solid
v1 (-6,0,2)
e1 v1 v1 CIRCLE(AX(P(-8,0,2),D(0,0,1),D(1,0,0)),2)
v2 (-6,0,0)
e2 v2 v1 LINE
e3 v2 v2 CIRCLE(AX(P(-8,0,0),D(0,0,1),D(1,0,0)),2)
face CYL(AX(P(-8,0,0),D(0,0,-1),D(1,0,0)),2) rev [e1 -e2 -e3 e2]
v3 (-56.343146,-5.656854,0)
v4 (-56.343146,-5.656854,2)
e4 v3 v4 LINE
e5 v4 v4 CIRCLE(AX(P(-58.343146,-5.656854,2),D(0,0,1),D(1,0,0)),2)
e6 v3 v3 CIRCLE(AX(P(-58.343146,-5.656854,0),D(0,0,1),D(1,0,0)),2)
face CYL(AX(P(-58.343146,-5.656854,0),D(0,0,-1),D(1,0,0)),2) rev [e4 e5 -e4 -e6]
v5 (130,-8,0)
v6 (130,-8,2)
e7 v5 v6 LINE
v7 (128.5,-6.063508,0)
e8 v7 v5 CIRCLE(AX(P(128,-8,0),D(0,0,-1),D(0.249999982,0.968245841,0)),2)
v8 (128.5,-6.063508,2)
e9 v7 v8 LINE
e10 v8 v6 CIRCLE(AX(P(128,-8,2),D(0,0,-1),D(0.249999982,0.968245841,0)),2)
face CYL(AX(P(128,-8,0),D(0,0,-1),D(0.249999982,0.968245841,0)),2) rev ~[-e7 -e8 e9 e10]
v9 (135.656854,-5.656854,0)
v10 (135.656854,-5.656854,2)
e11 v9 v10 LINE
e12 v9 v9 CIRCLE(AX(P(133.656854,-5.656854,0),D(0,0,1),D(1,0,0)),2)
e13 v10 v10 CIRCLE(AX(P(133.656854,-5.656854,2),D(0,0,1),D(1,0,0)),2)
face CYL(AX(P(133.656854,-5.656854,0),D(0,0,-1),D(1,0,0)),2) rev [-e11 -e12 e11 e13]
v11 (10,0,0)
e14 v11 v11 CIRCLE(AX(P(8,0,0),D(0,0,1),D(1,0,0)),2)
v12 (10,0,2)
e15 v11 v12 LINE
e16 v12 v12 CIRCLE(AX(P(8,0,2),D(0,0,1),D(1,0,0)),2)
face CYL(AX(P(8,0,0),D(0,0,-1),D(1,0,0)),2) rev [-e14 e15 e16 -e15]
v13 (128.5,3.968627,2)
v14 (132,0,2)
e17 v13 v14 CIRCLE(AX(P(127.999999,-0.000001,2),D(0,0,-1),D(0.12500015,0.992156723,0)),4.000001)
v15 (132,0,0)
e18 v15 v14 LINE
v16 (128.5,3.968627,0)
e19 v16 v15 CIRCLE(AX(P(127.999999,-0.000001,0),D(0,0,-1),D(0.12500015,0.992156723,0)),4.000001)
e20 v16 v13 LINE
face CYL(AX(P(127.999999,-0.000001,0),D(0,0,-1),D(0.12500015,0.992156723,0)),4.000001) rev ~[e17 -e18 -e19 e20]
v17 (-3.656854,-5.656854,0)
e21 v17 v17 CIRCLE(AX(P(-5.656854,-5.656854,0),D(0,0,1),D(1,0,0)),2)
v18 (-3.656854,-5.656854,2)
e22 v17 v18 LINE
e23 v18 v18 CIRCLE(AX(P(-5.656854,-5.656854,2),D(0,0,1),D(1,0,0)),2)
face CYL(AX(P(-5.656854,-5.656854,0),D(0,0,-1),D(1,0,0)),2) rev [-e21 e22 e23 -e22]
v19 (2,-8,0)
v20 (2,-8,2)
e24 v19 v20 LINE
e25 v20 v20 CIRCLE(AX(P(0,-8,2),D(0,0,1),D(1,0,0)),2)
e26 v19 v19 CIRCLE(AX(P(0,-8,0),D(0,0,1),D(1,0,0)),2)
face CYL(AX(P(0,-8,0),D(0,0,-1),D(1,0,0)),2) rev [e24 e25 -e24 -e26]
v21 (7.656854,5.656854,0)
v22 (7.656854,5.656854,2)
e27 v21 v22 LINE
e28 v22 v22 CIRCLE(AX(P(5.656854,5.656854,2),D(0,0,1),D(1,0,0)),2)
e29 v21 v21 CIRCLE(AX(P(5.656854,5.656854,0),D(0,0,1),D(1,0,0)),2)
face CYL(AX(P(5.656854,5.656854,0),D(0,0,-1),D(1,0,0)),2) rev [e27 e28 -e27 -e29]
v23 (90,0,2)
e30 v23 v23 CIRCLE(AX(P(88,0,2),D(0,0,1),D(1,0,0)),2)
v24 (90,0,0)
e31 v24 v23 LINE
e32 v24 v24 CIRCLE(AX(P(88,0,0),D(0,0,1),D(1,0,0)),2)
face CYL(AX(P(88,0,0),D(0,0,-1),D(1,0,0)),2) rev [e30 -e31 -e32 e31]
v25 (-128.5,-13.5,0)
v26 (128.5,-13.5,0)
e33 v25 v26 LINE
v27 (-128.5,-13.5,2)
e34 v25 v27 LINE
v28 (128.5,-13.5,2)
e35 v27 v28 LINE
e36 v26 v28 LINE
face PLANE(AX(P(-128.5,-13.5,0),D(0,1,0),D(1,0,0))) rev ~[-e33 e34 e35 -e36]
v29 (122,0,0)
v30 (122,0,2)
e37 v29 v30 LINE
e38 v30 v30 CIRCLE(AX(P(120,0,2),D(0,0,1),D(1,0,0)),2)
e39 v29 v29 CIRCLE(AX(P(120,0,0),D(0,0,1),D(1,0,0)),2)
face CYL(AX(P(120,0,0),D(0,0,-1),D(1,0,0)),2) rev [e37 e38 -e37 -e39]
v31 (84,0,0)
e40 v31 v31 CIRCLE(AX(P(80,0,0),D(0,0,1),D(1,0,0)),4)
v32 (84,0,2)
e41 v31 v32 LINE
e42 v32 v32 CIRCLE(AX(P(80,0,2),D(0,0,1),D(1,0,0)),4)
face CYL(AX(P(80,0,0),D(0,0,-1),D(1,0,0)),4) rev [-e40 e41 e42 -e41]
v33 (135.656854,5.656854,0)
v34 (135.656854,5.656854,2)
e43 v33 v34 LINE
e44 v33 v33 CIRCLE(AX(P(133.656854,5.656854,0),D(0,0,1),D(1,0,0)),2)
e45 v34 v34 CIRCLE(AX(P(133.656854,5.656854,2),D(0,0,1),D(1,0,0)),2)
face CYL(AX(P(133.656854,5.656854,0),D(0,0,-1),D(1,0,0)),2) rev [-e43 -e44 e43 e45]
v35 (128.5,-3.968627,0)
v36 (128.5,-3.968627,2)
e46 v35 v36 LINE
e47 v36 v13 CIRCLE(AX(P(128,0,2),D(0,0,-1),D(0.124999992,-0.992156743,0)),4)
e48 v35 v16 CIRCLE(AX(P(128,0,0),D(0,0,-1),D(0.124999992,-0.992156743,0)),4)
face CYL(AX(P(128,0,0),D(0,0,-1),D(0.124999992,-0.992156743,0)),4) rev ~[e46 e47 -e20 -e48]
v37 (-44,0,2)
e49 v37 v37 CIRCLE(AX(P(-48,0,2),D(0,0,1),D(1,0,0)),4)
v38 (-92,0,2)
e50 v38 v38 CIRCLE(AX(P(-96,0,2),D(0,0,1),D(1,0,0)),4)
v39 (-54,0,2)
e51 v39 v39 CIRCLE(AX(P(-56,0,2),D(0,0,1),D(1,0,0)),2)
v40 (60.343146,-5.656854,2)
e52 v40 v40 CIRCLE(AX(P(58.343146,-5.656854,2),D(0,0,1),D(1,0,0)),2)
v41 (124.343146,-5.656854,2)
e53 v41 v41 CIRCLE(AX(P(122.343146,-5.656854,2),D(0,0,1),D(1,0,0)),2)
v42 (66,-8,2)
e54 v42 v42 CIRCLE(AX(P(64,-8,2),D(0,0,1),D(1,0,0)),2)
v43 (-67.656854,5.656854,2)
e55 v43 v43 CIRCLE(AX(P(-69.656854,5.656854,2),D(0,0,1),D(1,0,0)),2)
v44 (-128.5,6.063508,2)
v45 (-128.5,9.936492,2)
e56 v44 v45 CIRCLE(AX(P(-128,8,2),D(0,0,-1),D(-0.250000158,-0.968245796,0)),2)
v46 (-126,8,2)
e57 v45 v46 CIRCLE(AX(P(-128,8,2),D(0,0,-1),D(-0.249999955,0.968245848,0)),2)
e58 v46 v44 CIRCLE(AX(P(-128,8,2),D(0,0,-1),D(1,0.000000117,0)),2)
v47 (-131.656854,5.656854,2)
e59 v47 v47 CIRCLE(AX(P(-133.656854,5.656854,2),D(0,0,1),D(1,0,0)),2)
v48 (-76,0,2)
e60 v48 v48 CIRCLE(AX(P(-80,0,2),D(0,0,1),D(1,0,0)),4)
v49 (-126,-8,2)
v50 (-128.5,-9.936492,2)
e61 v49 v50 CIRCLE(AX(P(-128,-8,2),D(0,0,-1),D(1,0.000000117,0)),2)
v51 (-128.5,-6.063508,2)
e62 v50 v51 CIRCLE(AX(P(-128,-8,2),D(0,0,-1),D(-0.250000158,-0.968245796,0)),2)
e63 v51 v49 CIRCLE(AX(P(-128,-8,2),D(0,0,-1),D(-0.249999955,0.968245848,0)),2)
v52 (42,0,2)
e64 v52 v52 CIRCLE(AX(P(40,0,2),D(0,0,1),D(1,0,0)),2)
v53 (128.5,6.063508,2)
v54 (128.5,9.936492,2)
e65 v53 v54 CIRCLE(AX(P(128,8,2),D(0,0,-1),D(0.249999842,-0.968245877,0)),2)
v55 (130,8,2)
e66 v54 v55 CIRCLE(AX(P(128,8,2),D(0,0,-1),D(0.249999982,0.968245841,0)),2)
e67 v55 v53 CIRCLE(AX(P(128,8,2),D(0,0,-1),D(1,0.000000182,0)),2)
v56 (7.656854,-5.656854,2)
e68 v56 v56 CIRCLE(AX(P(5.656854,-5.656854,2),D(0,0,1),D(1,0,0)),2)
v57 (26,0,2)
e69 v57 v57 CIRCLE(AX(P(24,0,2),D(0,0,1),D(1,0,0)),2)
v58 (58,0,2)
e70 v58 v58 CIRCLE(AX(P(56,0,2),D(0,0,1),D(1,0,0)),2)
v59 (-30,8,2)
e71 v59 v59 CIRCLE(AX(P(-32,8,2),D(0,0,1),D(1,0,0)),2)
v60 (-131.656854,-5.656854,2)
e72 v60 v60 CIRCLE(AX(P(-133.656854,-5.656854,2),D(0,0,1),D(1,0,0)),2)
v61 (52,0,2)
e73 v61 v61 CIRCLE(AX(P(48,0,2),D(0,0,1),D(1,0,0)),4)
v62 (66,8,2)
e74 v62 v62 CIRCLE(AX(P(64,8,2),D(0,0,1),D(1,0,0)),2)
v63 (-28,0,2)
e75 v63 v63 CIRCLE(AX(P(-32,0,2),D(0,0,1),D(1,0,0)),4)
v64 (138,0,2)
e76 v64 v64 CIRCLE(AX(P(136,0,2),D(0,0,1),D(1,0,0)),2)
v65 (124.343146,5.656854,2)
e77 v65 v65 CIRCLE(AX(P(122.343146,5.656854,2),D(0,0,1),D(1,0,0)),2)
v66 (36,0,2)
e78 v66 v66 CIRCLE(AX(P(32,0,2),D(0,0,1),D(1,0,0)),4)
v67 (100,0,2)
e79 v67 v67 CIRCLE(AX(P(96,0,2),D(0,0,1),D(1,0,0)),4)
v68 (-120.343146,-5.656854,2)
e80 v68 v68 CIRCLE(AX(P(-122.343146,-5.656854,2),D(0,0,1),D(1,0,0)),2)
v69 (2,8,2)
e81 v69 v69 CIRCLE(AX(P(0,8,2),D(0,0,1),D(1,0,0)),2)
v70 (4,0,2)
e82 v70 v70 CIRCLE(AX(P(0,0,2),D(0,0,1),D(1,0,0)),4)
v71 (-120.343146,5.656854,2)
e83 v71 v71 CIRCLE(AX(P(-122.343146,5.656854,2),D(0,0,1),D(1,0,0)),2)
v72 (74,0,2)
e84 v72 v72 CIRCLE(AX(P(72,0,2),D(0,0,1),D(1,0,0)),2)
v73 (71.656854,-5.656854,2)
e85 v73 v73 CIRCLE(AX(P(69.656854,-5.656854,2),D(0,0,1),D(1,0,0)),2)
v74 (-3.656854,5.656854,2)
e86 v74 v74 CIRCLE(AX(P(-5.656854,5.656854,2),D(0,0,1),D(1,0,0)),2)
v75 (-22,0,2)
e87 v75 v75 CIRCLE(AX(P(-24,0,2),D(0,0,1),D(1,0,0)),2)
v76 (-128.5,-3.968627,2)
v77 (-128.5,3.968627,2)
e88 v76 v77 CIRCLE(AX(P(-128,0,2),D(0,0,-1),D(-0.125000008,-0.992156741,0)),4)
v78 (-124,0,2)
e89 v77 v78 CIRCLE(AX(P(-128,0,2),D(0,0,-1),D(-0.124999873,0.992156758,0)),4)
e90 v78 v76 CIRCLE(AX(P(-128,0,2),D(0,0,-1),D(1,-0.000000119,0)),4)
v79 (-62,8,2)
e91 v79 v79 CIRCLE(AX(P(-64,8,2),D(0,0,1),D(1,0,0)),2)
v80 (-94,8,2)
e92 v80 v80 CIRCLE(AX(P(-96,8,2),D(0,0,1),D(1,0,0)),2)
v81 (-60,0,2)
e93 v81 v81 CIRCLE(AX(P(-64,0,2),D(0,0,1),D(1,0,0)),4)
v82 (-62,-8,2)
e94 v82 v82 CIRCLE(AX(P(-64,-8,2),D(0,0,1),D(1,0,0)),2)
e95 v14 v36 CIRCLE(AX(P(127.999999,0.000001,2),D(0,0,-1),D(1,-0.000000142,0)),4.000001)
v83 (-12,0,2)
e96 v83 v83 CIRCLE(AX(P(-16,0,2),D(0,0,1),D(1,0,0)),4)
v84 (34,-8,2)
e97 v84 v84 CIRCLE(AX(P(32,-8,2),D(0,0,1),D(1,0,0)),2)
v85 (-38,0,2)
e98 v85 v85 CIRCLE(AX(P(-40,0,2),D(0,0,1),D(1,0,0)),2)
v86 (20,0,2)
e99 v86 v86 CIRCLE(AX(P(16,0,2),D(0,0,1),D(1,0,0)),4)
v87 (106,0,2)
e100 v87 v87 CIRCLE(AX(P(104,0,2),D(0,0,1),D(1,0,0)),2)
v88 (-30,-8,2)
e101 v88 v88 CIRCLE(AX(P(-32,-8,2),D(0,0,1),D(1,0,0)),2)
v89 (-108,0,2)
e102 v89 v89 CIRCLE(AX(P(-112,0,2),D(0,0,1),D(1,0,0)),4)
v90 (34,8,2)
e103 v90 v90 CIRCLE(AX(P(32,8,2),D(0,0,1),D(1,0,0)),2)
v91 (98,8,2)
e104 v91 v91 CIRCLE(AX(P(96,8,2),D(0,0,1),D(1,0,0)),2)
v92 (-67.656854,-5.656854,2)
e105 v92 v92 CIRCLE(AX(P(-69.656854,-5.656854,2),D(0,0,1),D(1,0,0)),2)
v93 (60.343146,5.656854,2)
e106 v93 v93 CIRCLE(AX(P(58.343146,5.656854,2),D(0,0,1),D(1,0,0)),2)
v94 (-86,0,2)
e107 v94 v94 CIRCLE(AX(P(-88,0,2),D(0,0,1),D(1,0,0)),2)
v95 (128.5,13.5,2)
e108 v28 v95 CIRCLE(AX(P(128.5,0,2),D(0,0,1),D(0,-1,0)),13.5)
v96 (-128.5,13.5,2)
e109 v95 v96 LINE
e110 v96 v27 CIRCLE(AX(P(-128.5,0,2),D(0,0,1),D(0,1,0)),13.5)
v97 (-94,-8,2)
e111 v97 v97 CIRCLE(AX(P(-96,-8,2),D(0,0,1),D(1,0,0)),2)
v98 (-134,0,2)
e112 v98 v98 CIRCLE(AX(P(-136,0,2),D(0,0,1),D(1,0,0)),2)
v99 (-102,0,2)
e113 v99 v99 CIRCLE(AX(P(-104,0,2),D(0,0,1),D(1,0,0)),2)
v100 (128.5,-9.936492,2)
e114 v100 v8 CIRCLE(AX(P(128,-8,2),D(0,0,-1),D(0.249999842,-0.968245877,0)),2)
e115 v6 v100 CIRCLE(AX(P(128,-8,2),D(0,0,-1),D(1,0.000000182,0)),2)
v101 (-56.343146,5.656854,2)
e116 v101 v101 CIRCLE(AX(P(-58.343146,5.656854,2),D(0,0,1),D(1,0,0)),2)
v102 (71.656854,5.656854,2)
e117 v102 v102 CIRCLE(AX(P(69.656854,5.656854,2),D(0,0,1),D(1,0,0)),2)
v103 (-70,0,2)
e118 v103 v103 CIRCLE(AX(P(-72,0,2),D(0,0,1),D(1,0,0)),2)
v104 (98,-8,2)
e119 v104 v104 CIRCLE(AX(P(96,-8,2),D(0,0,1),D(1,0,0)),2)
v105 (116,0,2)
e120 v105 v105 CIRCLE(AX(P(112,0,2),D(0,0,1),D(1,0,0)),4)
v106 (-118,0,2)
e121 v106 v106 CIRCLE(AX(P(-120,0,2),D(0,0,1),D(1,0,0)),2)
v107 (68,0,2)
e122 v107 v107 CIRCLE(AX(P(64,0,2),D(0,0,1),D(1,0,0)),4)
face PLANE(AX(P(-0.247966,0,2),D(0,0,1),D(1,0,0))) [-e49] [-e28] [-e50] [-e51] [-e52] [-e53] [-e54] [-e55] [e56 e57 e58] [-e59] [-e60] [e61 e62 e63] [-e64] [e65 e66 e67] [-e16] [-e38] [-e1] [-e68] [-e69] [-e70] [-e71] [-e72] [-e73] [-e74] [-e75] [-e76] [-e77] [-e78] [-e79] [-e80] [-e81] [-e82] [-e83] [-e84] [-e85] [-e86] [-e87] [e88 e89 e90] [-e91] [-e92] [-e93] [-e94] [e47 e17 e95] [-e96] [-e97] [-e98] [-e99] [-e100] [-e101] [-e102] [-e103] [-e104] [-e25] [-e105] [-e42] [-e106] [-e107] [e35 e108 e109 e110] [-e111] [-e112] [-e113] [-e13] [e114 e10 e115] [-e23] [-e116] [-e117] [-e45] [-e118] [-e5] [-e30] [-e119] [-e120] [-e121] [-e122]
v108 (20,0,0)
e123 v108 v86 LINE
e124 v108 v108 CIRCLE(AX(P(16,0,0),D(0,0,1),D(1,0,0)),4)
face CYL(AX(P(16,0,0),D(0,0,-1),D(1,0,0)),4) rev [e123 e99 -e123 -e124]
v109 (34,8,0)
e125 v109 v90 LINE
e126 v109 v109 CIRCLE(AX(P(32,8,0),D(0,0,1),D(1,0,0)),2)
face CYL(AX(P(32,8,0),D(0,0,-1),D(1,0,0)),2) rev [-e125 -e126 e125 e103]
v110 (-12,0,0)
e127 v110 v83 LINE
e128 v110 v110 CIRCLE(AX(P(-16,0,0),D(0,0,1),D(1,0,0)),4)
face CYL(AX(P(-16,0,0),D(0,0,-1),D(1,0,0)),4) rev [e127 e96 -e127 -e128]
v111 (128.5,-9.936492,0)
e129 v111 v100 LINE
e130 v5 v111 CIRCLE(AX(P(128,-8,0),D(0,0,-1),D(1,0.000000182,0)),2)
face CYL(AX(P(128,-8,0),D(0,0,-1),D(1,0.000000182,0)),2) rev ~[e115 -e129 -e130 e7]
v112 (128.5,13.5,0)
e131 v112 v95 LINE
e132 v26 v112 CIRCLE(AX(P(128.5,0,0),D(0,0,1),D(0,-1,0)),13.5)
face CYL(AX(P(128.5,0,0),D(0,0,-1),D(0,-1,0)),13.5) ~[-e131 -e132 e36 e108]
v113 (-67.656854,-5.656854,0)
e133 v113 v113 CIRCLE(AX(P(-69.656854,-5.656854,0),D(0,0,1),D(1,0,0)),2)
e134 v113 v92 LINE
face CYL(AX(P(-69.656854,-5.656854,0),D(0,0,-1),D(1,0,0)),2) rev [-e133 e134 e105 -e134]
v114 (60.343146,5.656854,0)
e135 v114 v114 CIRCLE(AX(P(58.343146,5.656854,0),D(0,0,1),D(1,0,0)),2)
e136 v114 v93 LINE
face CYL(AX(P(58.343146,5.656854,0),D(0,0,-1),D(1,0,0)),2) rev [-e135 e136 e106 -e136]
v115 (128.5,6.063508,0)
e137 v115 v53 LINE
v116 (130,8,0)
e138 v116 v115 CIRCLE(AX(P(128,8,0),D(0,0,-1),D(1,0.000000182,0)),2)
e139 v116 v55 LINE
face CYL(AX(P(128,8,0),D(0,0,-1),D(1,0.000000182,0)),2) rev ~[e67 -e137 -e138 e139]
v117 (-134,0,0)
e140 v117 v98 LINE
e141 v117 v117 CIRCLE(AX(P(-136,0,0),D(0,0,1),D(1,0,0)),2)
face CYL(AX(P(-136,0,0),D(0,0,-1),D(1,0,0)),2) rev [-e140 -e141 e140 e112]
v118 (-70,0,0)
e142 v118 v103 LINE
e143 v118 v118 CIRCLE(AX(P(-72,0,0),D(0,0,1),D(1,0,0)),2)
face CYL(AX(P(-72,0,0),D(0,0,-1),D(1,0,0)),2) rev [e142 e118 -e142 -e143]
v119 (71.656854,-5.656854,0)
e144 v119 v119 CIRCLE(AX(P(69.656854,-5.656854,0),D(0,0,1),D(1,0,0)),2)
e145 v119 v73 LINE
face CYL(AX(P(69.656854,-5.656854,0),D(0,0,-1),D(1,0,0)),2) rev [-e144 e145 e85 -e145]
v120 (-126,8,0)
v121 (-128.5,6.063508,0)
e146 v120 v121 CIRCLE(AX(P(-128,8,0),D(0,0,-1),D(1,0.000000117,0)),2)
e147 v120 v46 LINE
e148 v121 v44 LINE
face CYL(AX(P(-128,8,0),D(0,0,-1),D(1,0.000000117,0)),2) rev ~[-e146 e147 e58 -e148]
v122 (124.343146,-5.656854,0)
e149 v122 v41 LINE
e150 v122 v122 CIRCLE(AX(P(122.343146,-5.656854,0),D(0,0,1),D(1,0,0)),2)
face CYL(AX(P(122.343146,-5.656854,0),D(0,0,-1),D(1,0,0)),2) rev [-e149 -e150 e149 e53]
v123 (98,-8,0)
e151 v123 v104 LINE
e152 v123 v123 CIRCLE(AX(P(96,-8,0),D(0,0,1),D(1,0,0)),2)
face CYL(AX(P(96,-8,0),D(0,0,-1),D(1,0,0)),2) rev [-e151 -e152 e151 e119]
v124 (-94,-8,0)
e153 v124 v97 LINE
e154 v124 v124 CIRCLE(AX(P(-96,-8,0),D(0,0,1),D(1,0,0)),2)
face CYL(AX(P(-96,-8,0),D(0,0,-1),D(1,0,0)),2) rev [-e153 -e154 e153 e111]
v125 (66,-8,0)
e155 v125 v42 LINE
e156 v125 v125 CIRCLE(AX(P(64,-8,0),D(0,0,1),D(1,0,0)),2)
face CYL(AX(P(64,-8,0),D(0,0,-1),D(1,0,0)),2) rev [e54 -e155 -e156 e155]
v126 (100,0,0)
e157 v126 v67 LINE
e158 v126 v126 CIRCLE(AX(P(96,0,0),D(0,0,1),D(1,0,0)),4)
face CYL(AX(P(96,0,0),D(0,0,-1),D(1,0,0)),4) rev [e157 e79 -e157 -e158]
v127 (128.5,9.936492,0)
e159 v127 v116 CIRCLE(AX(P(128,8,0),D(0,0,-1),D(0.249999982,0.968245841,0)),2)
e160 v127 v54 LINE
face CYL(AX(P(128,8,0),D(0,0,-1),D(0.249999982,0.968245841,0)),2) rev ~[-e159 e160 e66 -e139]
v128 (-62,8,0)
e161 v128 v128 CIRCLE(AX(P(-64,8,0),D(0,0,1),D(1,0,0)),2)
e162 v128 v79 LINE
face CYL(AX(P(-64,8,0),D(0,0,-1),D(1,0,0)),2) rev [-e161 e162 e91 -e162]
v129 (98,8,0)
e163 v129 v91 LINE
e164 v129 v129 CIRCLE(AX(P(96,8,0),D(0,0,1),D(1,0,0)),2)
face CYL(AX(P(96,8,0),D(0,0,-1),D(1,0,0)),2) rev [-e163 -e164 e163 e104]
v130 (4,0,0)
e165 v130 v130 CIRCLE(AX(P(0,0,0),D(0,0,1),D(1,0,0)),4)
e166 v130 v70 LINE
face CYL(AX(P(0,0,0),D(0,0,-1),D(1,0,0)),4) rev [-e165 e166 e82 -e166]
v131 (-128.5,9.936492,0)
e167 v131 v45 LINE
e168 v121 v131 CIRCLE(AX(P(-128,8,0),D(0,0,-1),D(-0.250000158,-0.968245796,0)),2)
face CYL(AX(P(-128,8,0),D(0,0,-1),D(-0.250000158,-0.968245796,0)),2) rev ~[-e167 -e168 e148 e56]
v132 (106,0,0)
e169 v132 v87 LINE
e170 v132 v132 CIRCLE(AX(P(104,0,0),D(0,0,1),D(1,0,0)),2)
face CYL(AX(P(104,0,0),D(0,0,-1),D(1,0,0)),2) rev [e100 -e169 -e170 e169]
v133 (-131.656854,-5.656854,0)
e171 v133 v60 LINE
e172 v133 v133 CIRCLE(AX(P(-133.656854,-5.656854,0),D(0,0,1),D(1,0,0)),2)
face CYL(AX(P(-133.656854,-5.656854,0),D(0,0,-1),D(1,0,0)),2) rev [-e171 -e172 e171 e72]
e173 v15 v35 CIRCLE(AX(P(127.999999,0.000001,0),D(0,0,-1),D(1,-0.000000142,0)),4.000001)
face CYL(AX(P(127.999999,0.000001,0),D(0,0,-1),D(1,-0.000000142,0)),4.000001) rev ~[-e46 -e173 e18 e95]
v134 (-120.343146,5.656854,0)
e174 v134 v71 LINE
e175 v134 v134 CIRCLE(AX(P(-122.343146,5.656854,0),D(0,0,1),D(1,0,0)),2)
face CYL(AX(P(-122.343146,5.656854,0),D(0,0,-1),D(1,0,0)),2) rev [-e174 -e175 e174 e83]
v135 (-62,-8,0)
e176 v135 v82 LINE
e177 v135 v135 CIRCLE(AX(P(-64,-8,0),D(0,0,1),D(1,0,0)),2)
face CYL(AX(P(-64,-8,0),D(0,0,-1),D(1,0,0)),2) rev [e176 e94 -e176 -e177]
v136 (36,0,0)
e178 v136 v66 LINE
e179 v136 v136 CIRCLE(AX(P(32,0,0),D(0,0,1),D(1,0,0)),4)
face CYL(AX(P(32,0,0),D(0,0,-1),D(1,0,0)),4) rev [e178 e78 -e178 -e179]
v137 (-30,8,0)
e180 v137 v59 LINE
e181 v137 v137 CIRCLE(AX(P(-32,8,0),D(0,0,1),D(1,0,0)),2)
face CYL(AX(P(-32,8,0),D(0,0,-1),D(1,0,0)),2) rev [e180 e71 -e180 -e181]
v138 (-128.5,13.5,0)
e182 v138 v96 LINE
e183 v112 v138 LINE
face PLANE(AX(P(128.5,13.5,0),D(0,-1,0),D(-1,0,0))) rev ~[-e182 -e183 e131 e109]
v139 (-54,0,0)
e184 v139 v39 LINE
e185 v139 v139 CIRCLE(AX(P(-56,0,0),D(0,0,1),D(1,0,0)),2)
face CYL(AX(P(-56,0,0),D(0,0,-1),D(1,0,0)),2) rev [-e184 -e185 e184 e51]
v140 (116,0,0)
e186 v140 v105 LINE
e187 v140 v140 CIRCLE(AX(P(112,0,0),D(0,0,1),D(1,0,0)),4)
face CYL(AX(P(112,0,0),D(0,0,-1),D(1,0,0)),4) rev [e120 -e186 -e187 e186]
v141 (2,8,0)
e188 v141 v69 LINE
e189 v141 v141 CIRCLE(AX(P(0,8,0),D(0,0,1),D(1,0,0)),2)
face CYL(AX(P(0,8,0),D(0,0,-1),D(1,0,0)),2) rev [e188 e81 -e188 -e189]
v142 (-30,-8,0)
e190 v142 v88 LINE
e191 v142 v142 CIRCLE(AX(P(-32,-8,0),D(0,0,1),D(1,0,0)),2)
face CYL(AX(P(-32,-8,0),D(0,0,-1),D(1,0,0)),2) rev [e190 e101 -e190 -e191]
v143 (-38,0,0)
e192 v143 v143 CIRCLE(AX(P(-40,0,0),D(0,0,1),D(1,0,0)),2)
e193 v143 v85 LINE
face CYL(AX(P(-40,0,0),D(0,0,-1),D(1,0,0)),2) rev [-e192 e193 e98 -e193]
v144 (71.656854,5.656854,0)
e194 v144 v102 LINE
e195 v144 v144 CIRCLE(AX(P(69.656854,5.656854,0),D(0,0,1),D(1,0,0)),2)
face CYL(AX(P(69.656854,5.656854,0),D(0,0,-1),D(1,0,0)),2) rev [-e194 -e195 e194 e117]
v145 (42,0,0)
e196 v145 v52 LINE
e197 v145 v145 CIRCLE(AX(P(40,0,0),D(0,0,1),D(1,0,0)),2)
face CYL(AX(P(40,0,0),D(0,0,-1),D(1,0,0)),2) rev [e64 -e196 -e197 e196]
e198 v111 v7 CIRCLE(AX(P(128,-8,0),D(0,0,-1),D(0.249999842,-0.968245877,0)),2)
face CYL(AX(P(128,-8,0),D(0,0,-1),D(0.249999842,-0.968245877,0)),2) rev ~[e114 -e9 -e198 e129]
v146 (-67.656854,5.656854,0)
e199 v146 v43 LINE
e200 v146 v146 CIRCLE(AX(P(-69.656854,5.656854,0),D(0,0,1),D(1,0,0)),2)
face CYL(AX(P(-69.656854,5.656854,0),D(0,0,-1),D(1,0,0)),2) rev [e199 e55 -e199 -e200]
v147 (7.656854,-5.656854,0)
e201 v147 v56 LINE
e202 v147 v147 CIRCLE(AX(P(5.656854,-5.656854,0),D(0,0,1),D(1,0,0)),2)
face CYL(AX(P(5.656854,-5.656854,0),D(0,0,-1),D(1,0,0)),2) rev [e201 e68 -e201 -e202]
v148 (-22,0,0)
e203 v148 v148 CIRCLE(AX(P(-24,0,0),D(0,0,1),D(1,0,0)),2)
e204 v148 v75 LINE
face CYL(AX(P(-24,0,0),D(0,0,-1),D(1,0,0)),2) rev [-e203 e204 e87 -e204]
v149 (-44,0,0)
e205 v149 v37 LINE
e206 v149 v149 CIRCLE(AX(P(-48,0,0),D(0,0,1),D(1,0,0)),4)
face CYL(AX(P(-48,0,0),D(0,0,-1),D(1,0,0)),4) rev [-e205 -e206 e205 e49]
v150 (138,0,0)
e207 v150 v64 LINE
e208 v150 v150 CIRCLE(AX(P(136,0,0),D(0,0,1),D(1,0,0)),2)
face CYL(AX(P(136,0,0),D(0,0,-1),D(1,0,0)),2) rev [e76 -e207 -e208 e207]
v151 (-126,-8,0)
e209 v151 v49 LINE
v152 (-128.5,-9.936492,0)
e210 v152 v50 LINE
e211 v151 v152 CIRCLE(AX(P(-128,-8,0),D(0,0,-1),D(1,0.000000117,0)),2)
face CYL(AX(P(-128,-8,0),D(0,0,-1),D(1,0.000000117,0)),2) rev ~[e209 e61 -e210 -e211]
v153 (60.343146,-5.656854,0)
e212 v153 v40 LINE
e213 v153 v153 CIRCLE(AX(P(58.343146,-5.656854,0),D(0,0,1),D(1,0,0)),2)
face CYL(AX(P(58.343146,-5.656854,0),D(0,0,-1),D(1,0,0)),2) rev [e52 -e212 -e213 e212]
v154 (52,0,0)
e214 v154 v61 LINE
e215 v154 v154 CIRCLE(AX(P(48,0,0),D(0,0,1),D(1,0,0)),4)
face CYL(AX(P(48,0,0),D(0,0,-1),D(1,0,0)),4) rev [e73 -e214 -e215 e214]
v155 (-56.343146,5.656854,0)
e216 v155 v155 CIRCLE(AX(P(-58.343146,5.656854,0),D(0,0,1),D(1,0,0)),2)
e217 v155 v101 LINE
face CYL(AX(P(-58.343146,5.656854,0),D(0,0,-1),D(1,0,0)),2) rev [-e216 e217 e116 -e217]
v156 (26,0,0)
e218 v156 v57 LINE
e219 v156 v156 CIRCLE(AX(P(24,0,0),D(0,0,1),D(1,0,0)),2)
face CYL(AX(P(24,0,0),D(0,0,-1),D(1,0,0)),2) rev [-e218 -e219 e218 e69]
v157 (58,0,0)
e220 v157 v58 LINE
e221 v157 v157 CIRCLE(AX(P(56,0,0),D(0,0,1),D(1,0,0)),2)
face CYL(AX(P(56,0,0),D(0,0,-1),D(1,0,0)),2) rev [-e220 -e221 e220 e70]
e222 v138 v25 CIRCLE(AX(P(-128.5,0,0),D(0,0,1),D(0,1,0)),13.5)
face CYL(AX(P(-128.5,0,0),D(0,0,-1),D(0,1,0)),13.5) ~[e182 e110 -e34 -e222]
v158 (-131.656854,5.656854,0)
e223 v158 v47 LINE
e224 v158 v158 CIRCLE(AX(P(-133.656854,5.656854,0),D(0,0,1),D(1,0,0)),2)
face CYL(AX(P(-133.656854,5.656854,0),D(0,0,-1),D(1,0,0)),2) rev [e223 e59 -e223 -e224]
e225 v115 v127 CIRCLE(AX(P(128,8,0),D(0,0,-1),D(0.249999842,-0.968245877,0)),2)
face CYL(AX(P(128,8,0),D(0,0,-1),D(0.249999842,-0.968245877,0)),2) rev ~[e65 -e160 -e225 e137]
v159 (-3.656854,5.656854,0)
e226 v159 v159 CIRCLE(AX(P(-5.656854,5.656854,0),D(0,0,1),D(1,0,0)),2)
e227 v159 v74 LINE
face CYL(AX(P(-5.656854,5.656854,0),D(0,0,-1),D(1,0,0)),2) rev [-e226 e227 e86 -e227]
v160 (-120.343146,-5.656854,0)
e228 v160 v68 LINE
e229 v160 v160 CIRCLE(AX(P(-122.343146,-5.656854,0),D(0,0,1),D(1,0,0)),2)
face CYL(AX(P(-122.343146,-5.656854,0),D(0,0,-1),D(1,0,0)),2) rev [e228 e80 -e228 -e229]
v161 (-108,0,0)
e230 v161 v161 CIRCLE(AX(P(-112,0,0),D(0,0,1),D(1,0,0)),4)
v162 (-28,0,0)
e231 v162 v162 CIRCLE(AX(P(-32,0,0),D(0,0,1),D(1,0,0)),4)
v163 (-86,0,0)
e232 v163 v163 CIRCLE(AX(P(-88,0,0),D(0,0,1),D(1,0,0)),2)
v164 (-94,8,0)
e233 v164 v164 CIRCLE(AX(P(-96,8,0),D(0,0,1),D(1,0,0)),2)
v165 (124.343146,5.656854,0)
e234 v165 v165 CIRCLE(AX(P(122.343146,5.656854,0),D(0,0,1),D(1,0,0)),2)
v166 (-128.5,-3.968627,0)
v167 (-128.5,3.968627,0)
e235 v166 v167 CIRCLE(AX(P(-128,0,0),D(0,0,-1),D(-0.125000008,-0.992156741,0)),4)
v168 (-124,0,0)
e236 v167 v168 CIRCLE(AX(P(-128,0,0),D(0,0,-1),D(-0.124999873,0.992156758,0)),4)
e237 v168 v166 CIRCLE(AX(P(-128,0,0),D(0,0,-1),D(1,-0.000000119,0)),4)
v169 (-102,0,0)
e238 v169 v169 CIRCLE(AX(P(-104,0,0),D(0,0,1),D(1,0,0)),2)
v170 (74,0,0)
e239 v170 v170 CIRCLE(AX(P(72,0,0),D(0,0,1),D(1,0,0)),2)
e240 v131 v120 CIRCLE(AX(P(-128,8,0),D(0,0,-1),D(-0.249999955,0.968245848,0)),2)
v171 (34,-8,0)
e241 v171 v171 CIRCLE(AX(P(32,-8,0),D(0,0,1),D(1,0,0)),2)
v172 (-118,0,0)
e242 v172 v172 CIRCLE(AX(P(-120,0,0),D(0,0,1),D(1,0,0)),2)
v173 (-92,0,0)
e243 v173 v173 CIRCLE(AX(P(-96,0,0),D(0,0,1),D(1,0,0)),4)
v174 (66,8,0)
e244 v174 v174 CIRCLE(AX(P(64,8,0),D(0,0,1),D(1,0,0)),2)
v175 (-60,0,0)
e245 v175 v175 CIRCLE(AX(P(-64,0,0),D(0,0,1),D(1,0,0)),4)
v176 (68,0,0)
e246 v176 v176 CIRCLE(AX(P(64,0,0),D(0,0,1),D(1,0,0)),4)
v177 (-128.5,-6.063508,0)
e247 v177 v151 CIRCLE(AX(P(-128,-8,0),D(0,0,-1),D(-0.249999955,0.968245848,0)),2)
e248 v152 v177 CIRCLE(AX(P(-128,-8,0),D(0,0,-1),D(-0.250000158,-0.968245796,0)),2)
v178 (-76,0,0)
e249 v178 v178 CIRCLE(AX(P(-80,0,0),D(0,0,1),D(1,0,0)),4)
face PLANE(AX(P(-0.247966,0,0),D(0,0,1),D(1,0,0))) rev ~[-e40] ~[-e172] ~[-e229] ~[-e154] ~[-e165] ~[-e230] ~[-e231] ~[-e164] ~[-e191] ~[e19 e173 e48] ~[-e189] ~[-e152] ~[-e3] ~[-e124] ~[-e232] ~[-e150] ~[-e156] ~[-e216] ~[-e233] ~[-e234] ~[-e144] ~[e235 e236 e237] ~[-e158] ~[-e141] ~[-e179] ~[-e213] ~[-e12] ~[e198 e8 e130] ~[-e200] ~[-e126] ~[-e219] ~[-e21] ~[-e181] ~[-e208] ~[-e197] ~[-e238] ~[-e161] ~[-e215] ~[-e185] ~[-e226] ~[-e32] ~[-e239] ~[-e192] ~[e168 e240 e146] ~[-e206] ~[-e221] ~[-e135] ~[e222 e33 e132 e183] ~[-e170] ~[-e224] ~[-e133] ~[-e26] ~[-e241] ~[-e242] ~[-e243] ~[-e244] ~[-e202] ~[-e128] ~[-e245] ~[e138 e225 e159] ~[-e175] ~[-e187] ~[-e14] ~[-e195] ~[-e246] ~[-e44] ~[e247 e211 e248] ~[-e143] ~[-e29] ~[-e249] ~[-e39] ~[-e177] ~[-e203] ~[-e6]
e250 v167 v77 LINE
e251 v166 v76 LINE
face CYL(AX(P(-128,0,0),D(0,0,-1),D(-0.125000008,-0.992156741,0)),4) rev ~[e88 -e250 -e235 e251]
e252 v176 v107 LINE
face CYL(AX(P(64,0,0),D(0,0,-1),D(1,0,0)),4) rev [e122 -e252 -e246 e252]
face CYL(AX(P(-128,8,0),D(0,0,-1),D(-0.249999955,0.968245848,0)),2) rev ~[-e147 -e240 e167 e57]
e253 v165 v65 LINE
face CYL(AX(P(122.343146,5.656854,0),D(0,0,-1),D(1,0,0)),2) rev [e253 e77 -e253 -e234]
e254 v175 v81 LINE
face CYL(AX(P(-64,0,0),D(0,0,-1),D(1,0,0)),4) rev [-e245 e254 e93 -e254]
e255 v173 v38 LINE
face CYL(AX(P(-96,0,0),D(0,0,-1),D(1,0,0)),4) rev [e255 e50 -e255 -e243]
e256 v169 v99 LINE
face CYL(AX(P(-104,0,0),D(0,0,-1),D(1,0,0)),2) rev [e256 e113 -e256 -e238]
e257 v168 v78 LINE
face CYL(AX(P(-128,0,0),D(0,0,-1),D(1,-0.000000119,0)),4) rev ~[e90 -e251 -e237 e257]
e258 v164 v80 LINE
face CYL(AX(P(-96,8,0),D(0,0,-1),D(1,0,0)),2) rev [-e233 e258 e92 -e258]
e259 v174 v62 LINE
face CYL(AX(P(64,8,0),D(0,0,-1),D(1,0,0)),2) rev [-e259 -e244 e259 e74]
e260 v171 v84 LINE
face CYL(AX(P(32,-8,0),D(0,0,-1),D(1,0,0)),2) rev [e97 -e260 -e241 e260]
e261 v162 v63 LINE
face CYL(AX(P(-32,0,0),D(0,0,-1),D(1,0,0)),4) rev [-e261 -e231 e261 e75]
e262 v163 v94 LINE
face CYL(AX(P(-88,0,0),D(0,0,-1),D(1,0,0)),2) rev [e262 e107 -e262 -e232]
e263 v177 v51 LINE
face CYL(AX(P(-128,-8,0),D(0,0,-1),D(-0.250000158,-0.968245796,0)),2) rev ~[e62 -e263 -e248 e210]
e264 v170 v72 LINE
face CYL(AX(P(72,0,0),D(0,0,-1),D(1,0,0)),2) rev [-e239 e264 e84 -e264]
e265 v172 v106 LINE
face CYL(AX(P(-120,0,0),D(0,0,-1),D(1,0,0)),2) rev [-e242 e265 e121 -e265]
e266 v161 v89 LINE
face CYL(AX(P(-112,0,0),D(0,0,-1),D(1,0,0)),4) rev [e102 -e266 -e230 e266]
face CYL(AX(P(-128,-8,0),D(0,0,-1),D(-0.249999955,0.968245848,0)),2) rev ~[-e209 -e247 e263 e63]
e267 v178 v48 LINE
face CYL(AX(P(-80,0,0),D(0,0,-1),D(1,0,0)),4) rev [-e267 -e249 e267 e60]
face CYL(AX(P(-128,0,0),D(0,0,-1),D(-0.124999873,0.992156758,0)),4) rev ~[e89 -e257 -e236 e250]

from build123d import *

# Parameters (mm, degrees)
F0_R     = 2
F0_R_2   = 4
F1_DEPTH = 2


with BuildPart() as f1:
    # F0 (on Top) → F1 (new body)
    with BuildSketch(Plane.XY):
        with BuildLine():
            Line((128.5, 9.936492), (128.5, 13.5))
            Line((128.5, 13.5), (-128.5, 13.5))
            Line((-128.5, 13.5), (-128.5, 9.936492))
            ThreePointArc((-128.5, 9.936492), (-126.775255, 9.581139), (-126, 8))
            ThreePointArc((-126, 8), (-126.775255, 6.418861), (-128.5, 6.063508))
            Line((-128.5, 6.063508), (-128.5, 3.968627))
            ThreePointArc((-128.5, 3.968627), (-125.354249, 3), (-124, 0))
            ThreePointArc((-124, 0), (-125.354249, -3), (-128.5, -3.968627))
            Line((-128.5, -3.968627), (-128.5, -6.063508))
            ThreePointArc((-128.5, -6.063508), (-126.775255, -6.418861), (-126, -8))
            ThreePointArc((-126, -8), (-126.775255, -9.581139), (-128.5, -9.936492))
            Line((-128.5, -9.936492), (-128.5, -13.5))
            Line((-128.5, -13.5), (128.5, -13.5))
            Line((128.5, -13.5), (128.5, -9.936492))
            ThreePointArc((128.5, -9.936492), (126, -8), (128.5, -6.063508))
            Line((128.5, -6.063508), (128.5, -3.968627))
            ThreePointArc((128.5, -3.968627), (124, 0), (128.5, 3.968627))
            Line((128.5, 3.968627), (128.5, 6.063508))
            ThreePointArc((128.5, 6.063508), (126, 8), (128.5, 9.936492))
        make_face()
        with Locations((-96, -8)):
            Circle(F0_R, mode=Mode.SUBTRACT)
        with Locations((-64, -8)):
            Circle(F0_R, mode=Mode.SUBTRACT)
        with Locations((-32, -8)):
            Circle(F0_R, mode=Mode.SUBTRACT)
        with Locations((-122.343146, -5.656854)):
            Circle(F0_R, mode=Mode.SUBTRACT)
        with Locations((-69.656854, -5.656854)):
            Circle(F0_R, mode=Mode.SUBTRACT)
        with Locations((-58.343146, -5.656854)):
            Circle(F0_R, mode=Mode.SUBTRACT)
        with Locations((-5.656854, -5.656854)):
            Circle(F0_R, mode=Mode.SUBTRACT)
        with Locations((0, -8)):
            Circle(F0_R, mode=Mode.SUBTRACT)
        with Locations((32, -8)):
            Circle(F0_R, mode=Mode.SUBTRACT)
        with Locations((64, -8)):
            Circle(F0_R, mode=Mode.SUBTRACT)
        with Locations((96, -8)):
            Circle(F0_R, mode=Mode.SUBTRACT)
        with Locations((5.656854, -5.656854)):
            Circle(F0_R, mode=Mode.SUBTRACT)
        with Locations((58.343146, -5.656854)):
            Circle(F0_R, mode=Mode.SUBTRACT)
        with Locations((69.656854, -5.656854)):
            Circle(F0_R, mode=Mode.SUBTRACT)
        with Locations((122.343146, -5.656854)):
            Circle(F0_R, mode=Mode.SUBTRACT)
        with Locations((-120, 0)):
            Circle(F0_R, mode=Mode.SUBTRACT)
        with Locations((-112, 0)):
            Circle(F0_R_2, mode=Mode.SUBTRACT)
        with Locations((-104, 0)):
            Circle(F0_R, mode=Mode.SUBTRACT)
        with Locations((-96, 0)):
            Circle(F0_R_2, mode=Mode.SUBTRACT)
        with Locations((-88, 0)):
            Circle(F0_R, mode=Mode.SUBTRACT)
        with Locations((-80, 0)):
            Circle(F0_R_2, mode=Mode.SUBTRACT)
        with Locations((-72, 0)):
            Circle(F0_R, mode=Mode.SUBTRACT)
        with Locations((-122.343146, 5.656854)):
            Circle(F0_R, mode=Mode.SUBTRACT)
        with Locations((-64, 0)):
            Circle(F0_R_2, mode=Mode.SUBTRACT)
        with Locations((-56, 0)):
            Circle(F0_R, mode=Mode.SUBTRACT)
        with Locations((-48, 0)):
            Circle(F0_R_2, mode=Mode.SUBTRACT)
        with Locations((-40, 0)):
            Circle(F0_R, mode=Mode.SUBTRACT)
        with Locations((-32, 0)):
            Circle(F0_R_2, mode=Mode.SUBTRACT)
        with Locations((-24, 0)):
            Circle(F0_R, mode=Mode.SUBTRACT)
        with Locations((-16, 0)):
            Circle(F0_R_2, mode=Mode.SUBTRACT)
        with Locations((-8, 0)):
            Circle(F0_R, mode=Mode.SUBTRACT)
        with Locations((-69.656854, 5.656854)):
            Circle(F0_R, mode=Mode.SUBTRACT)
        with Locations((-58.343146, 5.656854)):
            Circle(F0_R, mode=Mode.SUBTRACT)
        with Locations((-5.656854, 5.656854)):
            Circle(F0_R, mode=Mode.SUBTRACT)
        with Locations((-96, 8)):
            Circle(F0_R, mode=Mode.SUBTRACT)
        with Locations((-64, 8)):
            Circle(F0_R, mode=Mode.SUBTRACT)
        with Locations((-32, 8)):
            Circle(F0_R, mode=Mode.SUBTRACT)
        Circle(F0_R_2, mode=Mode.SUBTRACT)
        with Locations((8, 0)):
            Circle(F0_R, mode=Mode.SUBTRACT)
        with Locations((16, 0)):
            Circle(F0_R_2, mode=Mode.SUBTRACT)
        with Locations((24, 0)):
            Circle(F0_R, mode=Mode.SUBTRACT)
        with Locations((32, 0)):
            Circle(F0_R_2, mode=Mode.SUBTRACT)
        with Locations((40, 0)):
            Circle(F0_R, mode=Mode.SUBTRACT)
        with Locations((48, 0)):
            Circle(F0_R_2, mode=Mode.SUBTRACT)
        with Locations((56, 0)):
            Circle(F0_R, mode=Mode.SUBTRACT)
        with Locations((64, 0)):
            Circle(F0_R_2, mode=Mode.SUBTRACT)
        with Locations((5.656854, 5.656854)):
            Circle(F0_R, mode=Mode.SUBTRACT)
        with Locations((58.343146, 5.656854)):
            Circle(F0_R, mode=Mode.SUBTRACT)
        with Locations((69.656854, 5.656854)):
            Circle(F0_R, mode=Mode.SUBTRACT)
        with Locations((72, 0)):
            Circle(F0_R, mode=Mode.SUBTRACT)
        with Locations((80, 0)):
            Circle(F0_R_2, mode=Mode.SUBTRACT)
        with Locations((88, 0)):
            Circle(F0_R, mode=Mode.SUBTRACT)
        with Locations((96, 0)):
            Circle(F0_R_2, mode=Mode.SUBTRACT)
        with Locations((104, 0)):
            Circle(F0_R, mode=Mode.SUBTRACT)
        with Locations((112, 0)):
            Circle(F0_R_2, mode=Mode.SUBTRACT)
        with Locations((120, 0)):
            Circle(F0_R, mode=Mode.SUBTRACT)
        with Locations((122.343146, 5.656854)):
            Circle(F0_R, mode=Mode.SUBTRACT)
        with Locations((0, 8)):
            Circle(F0_R, mode=Mode.SUBTRACT)
        with Locations((32, 8)):
            Circle(F0_R, mode=Mode.SUBTRACT)
        with Locations((64, 8)):
            Circle(F0_R, mode=Mode.SUBTRACT)
        with Locations((96, 8)):
            Circle(F0_R, mode=Mode.SUBTRACT)
        with BuildLine():
            Line((-128.5, 9.936492), (-128.5, 13.5))
            ThreePointArc((-128.5, 13.5), (-142, 0), (-128.5, -13.5))
            Line((-128.5, -13.5), (-128.5, -9.936492))
            ThreePointArc((-128.5, -9.936492), (-130, -8), (-128.5, -6.063508))
            Line((-128.5, -6.063508), (-128.5, -3.968627))
            ThreePointArc((-128.5, -3.968627), (-132, 0), (-128.5, 3.968627))
            Line((-128.5, 3.968627), (-128.5, 6.063508))
            ThreePointArc((-128.5, 6.063508), (-130, 8), (-128.5, 9.936492))
        make_face()
        with Locations((-133.656854, -5.656854)):
            Circle(F0_R, mode=Mode.SUBTRACT)
        with Locations((-136, 0)):
            Circle(F0_R, mode=Mode.SUBTRACT)
        with Locations((-133.656854, 5.656854)):
            Circle(F0_R, mode=Mode.SUBTRACT)
        with BuildLine():
            ThreePointArc((128.5, -13.5), (142, 0), (128.5, 13.5))
            Line((128.5, 13.5), (128.5, 9.936492))
            ThreePointArc((128.5, 9.936492), (129.581139, 9.224745), (130, 8))
            ThreePointArc((130, 8), (129.581139, 6.775255), (128.5, 6.063508))
            Line((128.5, 6.063508), (128.5, 3.968627))
            ThreePointArc((128.5, 3.968627), (131, 2.645751), (132, 0))
            ThreePointArc((132, 0), (131, -2.645751), (128.5, -3.968627))
            Line((128.5, -3.968627), (128.5, -6.063508))
            ThreePointArc((128.5, -6.063508), (129.581139, -6.775255), (130, -8))
            ThreePointArc((130, -8), (129.581139, -9.224745), (128.5, -9.936492))
            Line((128.5, -9.936492), (128.5, -13.5))
        make_face()
        with Locations((133.656854, -5.656854)):
            Circle(F0_R, mode=Mode.SUBTRACT)
        with Locations((136, 0)):
            Circle(F0_R, mode=Mode.SUBTRACT)
        with Locations((133.656854, 5.656854)):
            Circle(F0_R, mode=Mode.SUBTRACT)
    extrude(amount=F1_DEPTH)


solid = f1.part
